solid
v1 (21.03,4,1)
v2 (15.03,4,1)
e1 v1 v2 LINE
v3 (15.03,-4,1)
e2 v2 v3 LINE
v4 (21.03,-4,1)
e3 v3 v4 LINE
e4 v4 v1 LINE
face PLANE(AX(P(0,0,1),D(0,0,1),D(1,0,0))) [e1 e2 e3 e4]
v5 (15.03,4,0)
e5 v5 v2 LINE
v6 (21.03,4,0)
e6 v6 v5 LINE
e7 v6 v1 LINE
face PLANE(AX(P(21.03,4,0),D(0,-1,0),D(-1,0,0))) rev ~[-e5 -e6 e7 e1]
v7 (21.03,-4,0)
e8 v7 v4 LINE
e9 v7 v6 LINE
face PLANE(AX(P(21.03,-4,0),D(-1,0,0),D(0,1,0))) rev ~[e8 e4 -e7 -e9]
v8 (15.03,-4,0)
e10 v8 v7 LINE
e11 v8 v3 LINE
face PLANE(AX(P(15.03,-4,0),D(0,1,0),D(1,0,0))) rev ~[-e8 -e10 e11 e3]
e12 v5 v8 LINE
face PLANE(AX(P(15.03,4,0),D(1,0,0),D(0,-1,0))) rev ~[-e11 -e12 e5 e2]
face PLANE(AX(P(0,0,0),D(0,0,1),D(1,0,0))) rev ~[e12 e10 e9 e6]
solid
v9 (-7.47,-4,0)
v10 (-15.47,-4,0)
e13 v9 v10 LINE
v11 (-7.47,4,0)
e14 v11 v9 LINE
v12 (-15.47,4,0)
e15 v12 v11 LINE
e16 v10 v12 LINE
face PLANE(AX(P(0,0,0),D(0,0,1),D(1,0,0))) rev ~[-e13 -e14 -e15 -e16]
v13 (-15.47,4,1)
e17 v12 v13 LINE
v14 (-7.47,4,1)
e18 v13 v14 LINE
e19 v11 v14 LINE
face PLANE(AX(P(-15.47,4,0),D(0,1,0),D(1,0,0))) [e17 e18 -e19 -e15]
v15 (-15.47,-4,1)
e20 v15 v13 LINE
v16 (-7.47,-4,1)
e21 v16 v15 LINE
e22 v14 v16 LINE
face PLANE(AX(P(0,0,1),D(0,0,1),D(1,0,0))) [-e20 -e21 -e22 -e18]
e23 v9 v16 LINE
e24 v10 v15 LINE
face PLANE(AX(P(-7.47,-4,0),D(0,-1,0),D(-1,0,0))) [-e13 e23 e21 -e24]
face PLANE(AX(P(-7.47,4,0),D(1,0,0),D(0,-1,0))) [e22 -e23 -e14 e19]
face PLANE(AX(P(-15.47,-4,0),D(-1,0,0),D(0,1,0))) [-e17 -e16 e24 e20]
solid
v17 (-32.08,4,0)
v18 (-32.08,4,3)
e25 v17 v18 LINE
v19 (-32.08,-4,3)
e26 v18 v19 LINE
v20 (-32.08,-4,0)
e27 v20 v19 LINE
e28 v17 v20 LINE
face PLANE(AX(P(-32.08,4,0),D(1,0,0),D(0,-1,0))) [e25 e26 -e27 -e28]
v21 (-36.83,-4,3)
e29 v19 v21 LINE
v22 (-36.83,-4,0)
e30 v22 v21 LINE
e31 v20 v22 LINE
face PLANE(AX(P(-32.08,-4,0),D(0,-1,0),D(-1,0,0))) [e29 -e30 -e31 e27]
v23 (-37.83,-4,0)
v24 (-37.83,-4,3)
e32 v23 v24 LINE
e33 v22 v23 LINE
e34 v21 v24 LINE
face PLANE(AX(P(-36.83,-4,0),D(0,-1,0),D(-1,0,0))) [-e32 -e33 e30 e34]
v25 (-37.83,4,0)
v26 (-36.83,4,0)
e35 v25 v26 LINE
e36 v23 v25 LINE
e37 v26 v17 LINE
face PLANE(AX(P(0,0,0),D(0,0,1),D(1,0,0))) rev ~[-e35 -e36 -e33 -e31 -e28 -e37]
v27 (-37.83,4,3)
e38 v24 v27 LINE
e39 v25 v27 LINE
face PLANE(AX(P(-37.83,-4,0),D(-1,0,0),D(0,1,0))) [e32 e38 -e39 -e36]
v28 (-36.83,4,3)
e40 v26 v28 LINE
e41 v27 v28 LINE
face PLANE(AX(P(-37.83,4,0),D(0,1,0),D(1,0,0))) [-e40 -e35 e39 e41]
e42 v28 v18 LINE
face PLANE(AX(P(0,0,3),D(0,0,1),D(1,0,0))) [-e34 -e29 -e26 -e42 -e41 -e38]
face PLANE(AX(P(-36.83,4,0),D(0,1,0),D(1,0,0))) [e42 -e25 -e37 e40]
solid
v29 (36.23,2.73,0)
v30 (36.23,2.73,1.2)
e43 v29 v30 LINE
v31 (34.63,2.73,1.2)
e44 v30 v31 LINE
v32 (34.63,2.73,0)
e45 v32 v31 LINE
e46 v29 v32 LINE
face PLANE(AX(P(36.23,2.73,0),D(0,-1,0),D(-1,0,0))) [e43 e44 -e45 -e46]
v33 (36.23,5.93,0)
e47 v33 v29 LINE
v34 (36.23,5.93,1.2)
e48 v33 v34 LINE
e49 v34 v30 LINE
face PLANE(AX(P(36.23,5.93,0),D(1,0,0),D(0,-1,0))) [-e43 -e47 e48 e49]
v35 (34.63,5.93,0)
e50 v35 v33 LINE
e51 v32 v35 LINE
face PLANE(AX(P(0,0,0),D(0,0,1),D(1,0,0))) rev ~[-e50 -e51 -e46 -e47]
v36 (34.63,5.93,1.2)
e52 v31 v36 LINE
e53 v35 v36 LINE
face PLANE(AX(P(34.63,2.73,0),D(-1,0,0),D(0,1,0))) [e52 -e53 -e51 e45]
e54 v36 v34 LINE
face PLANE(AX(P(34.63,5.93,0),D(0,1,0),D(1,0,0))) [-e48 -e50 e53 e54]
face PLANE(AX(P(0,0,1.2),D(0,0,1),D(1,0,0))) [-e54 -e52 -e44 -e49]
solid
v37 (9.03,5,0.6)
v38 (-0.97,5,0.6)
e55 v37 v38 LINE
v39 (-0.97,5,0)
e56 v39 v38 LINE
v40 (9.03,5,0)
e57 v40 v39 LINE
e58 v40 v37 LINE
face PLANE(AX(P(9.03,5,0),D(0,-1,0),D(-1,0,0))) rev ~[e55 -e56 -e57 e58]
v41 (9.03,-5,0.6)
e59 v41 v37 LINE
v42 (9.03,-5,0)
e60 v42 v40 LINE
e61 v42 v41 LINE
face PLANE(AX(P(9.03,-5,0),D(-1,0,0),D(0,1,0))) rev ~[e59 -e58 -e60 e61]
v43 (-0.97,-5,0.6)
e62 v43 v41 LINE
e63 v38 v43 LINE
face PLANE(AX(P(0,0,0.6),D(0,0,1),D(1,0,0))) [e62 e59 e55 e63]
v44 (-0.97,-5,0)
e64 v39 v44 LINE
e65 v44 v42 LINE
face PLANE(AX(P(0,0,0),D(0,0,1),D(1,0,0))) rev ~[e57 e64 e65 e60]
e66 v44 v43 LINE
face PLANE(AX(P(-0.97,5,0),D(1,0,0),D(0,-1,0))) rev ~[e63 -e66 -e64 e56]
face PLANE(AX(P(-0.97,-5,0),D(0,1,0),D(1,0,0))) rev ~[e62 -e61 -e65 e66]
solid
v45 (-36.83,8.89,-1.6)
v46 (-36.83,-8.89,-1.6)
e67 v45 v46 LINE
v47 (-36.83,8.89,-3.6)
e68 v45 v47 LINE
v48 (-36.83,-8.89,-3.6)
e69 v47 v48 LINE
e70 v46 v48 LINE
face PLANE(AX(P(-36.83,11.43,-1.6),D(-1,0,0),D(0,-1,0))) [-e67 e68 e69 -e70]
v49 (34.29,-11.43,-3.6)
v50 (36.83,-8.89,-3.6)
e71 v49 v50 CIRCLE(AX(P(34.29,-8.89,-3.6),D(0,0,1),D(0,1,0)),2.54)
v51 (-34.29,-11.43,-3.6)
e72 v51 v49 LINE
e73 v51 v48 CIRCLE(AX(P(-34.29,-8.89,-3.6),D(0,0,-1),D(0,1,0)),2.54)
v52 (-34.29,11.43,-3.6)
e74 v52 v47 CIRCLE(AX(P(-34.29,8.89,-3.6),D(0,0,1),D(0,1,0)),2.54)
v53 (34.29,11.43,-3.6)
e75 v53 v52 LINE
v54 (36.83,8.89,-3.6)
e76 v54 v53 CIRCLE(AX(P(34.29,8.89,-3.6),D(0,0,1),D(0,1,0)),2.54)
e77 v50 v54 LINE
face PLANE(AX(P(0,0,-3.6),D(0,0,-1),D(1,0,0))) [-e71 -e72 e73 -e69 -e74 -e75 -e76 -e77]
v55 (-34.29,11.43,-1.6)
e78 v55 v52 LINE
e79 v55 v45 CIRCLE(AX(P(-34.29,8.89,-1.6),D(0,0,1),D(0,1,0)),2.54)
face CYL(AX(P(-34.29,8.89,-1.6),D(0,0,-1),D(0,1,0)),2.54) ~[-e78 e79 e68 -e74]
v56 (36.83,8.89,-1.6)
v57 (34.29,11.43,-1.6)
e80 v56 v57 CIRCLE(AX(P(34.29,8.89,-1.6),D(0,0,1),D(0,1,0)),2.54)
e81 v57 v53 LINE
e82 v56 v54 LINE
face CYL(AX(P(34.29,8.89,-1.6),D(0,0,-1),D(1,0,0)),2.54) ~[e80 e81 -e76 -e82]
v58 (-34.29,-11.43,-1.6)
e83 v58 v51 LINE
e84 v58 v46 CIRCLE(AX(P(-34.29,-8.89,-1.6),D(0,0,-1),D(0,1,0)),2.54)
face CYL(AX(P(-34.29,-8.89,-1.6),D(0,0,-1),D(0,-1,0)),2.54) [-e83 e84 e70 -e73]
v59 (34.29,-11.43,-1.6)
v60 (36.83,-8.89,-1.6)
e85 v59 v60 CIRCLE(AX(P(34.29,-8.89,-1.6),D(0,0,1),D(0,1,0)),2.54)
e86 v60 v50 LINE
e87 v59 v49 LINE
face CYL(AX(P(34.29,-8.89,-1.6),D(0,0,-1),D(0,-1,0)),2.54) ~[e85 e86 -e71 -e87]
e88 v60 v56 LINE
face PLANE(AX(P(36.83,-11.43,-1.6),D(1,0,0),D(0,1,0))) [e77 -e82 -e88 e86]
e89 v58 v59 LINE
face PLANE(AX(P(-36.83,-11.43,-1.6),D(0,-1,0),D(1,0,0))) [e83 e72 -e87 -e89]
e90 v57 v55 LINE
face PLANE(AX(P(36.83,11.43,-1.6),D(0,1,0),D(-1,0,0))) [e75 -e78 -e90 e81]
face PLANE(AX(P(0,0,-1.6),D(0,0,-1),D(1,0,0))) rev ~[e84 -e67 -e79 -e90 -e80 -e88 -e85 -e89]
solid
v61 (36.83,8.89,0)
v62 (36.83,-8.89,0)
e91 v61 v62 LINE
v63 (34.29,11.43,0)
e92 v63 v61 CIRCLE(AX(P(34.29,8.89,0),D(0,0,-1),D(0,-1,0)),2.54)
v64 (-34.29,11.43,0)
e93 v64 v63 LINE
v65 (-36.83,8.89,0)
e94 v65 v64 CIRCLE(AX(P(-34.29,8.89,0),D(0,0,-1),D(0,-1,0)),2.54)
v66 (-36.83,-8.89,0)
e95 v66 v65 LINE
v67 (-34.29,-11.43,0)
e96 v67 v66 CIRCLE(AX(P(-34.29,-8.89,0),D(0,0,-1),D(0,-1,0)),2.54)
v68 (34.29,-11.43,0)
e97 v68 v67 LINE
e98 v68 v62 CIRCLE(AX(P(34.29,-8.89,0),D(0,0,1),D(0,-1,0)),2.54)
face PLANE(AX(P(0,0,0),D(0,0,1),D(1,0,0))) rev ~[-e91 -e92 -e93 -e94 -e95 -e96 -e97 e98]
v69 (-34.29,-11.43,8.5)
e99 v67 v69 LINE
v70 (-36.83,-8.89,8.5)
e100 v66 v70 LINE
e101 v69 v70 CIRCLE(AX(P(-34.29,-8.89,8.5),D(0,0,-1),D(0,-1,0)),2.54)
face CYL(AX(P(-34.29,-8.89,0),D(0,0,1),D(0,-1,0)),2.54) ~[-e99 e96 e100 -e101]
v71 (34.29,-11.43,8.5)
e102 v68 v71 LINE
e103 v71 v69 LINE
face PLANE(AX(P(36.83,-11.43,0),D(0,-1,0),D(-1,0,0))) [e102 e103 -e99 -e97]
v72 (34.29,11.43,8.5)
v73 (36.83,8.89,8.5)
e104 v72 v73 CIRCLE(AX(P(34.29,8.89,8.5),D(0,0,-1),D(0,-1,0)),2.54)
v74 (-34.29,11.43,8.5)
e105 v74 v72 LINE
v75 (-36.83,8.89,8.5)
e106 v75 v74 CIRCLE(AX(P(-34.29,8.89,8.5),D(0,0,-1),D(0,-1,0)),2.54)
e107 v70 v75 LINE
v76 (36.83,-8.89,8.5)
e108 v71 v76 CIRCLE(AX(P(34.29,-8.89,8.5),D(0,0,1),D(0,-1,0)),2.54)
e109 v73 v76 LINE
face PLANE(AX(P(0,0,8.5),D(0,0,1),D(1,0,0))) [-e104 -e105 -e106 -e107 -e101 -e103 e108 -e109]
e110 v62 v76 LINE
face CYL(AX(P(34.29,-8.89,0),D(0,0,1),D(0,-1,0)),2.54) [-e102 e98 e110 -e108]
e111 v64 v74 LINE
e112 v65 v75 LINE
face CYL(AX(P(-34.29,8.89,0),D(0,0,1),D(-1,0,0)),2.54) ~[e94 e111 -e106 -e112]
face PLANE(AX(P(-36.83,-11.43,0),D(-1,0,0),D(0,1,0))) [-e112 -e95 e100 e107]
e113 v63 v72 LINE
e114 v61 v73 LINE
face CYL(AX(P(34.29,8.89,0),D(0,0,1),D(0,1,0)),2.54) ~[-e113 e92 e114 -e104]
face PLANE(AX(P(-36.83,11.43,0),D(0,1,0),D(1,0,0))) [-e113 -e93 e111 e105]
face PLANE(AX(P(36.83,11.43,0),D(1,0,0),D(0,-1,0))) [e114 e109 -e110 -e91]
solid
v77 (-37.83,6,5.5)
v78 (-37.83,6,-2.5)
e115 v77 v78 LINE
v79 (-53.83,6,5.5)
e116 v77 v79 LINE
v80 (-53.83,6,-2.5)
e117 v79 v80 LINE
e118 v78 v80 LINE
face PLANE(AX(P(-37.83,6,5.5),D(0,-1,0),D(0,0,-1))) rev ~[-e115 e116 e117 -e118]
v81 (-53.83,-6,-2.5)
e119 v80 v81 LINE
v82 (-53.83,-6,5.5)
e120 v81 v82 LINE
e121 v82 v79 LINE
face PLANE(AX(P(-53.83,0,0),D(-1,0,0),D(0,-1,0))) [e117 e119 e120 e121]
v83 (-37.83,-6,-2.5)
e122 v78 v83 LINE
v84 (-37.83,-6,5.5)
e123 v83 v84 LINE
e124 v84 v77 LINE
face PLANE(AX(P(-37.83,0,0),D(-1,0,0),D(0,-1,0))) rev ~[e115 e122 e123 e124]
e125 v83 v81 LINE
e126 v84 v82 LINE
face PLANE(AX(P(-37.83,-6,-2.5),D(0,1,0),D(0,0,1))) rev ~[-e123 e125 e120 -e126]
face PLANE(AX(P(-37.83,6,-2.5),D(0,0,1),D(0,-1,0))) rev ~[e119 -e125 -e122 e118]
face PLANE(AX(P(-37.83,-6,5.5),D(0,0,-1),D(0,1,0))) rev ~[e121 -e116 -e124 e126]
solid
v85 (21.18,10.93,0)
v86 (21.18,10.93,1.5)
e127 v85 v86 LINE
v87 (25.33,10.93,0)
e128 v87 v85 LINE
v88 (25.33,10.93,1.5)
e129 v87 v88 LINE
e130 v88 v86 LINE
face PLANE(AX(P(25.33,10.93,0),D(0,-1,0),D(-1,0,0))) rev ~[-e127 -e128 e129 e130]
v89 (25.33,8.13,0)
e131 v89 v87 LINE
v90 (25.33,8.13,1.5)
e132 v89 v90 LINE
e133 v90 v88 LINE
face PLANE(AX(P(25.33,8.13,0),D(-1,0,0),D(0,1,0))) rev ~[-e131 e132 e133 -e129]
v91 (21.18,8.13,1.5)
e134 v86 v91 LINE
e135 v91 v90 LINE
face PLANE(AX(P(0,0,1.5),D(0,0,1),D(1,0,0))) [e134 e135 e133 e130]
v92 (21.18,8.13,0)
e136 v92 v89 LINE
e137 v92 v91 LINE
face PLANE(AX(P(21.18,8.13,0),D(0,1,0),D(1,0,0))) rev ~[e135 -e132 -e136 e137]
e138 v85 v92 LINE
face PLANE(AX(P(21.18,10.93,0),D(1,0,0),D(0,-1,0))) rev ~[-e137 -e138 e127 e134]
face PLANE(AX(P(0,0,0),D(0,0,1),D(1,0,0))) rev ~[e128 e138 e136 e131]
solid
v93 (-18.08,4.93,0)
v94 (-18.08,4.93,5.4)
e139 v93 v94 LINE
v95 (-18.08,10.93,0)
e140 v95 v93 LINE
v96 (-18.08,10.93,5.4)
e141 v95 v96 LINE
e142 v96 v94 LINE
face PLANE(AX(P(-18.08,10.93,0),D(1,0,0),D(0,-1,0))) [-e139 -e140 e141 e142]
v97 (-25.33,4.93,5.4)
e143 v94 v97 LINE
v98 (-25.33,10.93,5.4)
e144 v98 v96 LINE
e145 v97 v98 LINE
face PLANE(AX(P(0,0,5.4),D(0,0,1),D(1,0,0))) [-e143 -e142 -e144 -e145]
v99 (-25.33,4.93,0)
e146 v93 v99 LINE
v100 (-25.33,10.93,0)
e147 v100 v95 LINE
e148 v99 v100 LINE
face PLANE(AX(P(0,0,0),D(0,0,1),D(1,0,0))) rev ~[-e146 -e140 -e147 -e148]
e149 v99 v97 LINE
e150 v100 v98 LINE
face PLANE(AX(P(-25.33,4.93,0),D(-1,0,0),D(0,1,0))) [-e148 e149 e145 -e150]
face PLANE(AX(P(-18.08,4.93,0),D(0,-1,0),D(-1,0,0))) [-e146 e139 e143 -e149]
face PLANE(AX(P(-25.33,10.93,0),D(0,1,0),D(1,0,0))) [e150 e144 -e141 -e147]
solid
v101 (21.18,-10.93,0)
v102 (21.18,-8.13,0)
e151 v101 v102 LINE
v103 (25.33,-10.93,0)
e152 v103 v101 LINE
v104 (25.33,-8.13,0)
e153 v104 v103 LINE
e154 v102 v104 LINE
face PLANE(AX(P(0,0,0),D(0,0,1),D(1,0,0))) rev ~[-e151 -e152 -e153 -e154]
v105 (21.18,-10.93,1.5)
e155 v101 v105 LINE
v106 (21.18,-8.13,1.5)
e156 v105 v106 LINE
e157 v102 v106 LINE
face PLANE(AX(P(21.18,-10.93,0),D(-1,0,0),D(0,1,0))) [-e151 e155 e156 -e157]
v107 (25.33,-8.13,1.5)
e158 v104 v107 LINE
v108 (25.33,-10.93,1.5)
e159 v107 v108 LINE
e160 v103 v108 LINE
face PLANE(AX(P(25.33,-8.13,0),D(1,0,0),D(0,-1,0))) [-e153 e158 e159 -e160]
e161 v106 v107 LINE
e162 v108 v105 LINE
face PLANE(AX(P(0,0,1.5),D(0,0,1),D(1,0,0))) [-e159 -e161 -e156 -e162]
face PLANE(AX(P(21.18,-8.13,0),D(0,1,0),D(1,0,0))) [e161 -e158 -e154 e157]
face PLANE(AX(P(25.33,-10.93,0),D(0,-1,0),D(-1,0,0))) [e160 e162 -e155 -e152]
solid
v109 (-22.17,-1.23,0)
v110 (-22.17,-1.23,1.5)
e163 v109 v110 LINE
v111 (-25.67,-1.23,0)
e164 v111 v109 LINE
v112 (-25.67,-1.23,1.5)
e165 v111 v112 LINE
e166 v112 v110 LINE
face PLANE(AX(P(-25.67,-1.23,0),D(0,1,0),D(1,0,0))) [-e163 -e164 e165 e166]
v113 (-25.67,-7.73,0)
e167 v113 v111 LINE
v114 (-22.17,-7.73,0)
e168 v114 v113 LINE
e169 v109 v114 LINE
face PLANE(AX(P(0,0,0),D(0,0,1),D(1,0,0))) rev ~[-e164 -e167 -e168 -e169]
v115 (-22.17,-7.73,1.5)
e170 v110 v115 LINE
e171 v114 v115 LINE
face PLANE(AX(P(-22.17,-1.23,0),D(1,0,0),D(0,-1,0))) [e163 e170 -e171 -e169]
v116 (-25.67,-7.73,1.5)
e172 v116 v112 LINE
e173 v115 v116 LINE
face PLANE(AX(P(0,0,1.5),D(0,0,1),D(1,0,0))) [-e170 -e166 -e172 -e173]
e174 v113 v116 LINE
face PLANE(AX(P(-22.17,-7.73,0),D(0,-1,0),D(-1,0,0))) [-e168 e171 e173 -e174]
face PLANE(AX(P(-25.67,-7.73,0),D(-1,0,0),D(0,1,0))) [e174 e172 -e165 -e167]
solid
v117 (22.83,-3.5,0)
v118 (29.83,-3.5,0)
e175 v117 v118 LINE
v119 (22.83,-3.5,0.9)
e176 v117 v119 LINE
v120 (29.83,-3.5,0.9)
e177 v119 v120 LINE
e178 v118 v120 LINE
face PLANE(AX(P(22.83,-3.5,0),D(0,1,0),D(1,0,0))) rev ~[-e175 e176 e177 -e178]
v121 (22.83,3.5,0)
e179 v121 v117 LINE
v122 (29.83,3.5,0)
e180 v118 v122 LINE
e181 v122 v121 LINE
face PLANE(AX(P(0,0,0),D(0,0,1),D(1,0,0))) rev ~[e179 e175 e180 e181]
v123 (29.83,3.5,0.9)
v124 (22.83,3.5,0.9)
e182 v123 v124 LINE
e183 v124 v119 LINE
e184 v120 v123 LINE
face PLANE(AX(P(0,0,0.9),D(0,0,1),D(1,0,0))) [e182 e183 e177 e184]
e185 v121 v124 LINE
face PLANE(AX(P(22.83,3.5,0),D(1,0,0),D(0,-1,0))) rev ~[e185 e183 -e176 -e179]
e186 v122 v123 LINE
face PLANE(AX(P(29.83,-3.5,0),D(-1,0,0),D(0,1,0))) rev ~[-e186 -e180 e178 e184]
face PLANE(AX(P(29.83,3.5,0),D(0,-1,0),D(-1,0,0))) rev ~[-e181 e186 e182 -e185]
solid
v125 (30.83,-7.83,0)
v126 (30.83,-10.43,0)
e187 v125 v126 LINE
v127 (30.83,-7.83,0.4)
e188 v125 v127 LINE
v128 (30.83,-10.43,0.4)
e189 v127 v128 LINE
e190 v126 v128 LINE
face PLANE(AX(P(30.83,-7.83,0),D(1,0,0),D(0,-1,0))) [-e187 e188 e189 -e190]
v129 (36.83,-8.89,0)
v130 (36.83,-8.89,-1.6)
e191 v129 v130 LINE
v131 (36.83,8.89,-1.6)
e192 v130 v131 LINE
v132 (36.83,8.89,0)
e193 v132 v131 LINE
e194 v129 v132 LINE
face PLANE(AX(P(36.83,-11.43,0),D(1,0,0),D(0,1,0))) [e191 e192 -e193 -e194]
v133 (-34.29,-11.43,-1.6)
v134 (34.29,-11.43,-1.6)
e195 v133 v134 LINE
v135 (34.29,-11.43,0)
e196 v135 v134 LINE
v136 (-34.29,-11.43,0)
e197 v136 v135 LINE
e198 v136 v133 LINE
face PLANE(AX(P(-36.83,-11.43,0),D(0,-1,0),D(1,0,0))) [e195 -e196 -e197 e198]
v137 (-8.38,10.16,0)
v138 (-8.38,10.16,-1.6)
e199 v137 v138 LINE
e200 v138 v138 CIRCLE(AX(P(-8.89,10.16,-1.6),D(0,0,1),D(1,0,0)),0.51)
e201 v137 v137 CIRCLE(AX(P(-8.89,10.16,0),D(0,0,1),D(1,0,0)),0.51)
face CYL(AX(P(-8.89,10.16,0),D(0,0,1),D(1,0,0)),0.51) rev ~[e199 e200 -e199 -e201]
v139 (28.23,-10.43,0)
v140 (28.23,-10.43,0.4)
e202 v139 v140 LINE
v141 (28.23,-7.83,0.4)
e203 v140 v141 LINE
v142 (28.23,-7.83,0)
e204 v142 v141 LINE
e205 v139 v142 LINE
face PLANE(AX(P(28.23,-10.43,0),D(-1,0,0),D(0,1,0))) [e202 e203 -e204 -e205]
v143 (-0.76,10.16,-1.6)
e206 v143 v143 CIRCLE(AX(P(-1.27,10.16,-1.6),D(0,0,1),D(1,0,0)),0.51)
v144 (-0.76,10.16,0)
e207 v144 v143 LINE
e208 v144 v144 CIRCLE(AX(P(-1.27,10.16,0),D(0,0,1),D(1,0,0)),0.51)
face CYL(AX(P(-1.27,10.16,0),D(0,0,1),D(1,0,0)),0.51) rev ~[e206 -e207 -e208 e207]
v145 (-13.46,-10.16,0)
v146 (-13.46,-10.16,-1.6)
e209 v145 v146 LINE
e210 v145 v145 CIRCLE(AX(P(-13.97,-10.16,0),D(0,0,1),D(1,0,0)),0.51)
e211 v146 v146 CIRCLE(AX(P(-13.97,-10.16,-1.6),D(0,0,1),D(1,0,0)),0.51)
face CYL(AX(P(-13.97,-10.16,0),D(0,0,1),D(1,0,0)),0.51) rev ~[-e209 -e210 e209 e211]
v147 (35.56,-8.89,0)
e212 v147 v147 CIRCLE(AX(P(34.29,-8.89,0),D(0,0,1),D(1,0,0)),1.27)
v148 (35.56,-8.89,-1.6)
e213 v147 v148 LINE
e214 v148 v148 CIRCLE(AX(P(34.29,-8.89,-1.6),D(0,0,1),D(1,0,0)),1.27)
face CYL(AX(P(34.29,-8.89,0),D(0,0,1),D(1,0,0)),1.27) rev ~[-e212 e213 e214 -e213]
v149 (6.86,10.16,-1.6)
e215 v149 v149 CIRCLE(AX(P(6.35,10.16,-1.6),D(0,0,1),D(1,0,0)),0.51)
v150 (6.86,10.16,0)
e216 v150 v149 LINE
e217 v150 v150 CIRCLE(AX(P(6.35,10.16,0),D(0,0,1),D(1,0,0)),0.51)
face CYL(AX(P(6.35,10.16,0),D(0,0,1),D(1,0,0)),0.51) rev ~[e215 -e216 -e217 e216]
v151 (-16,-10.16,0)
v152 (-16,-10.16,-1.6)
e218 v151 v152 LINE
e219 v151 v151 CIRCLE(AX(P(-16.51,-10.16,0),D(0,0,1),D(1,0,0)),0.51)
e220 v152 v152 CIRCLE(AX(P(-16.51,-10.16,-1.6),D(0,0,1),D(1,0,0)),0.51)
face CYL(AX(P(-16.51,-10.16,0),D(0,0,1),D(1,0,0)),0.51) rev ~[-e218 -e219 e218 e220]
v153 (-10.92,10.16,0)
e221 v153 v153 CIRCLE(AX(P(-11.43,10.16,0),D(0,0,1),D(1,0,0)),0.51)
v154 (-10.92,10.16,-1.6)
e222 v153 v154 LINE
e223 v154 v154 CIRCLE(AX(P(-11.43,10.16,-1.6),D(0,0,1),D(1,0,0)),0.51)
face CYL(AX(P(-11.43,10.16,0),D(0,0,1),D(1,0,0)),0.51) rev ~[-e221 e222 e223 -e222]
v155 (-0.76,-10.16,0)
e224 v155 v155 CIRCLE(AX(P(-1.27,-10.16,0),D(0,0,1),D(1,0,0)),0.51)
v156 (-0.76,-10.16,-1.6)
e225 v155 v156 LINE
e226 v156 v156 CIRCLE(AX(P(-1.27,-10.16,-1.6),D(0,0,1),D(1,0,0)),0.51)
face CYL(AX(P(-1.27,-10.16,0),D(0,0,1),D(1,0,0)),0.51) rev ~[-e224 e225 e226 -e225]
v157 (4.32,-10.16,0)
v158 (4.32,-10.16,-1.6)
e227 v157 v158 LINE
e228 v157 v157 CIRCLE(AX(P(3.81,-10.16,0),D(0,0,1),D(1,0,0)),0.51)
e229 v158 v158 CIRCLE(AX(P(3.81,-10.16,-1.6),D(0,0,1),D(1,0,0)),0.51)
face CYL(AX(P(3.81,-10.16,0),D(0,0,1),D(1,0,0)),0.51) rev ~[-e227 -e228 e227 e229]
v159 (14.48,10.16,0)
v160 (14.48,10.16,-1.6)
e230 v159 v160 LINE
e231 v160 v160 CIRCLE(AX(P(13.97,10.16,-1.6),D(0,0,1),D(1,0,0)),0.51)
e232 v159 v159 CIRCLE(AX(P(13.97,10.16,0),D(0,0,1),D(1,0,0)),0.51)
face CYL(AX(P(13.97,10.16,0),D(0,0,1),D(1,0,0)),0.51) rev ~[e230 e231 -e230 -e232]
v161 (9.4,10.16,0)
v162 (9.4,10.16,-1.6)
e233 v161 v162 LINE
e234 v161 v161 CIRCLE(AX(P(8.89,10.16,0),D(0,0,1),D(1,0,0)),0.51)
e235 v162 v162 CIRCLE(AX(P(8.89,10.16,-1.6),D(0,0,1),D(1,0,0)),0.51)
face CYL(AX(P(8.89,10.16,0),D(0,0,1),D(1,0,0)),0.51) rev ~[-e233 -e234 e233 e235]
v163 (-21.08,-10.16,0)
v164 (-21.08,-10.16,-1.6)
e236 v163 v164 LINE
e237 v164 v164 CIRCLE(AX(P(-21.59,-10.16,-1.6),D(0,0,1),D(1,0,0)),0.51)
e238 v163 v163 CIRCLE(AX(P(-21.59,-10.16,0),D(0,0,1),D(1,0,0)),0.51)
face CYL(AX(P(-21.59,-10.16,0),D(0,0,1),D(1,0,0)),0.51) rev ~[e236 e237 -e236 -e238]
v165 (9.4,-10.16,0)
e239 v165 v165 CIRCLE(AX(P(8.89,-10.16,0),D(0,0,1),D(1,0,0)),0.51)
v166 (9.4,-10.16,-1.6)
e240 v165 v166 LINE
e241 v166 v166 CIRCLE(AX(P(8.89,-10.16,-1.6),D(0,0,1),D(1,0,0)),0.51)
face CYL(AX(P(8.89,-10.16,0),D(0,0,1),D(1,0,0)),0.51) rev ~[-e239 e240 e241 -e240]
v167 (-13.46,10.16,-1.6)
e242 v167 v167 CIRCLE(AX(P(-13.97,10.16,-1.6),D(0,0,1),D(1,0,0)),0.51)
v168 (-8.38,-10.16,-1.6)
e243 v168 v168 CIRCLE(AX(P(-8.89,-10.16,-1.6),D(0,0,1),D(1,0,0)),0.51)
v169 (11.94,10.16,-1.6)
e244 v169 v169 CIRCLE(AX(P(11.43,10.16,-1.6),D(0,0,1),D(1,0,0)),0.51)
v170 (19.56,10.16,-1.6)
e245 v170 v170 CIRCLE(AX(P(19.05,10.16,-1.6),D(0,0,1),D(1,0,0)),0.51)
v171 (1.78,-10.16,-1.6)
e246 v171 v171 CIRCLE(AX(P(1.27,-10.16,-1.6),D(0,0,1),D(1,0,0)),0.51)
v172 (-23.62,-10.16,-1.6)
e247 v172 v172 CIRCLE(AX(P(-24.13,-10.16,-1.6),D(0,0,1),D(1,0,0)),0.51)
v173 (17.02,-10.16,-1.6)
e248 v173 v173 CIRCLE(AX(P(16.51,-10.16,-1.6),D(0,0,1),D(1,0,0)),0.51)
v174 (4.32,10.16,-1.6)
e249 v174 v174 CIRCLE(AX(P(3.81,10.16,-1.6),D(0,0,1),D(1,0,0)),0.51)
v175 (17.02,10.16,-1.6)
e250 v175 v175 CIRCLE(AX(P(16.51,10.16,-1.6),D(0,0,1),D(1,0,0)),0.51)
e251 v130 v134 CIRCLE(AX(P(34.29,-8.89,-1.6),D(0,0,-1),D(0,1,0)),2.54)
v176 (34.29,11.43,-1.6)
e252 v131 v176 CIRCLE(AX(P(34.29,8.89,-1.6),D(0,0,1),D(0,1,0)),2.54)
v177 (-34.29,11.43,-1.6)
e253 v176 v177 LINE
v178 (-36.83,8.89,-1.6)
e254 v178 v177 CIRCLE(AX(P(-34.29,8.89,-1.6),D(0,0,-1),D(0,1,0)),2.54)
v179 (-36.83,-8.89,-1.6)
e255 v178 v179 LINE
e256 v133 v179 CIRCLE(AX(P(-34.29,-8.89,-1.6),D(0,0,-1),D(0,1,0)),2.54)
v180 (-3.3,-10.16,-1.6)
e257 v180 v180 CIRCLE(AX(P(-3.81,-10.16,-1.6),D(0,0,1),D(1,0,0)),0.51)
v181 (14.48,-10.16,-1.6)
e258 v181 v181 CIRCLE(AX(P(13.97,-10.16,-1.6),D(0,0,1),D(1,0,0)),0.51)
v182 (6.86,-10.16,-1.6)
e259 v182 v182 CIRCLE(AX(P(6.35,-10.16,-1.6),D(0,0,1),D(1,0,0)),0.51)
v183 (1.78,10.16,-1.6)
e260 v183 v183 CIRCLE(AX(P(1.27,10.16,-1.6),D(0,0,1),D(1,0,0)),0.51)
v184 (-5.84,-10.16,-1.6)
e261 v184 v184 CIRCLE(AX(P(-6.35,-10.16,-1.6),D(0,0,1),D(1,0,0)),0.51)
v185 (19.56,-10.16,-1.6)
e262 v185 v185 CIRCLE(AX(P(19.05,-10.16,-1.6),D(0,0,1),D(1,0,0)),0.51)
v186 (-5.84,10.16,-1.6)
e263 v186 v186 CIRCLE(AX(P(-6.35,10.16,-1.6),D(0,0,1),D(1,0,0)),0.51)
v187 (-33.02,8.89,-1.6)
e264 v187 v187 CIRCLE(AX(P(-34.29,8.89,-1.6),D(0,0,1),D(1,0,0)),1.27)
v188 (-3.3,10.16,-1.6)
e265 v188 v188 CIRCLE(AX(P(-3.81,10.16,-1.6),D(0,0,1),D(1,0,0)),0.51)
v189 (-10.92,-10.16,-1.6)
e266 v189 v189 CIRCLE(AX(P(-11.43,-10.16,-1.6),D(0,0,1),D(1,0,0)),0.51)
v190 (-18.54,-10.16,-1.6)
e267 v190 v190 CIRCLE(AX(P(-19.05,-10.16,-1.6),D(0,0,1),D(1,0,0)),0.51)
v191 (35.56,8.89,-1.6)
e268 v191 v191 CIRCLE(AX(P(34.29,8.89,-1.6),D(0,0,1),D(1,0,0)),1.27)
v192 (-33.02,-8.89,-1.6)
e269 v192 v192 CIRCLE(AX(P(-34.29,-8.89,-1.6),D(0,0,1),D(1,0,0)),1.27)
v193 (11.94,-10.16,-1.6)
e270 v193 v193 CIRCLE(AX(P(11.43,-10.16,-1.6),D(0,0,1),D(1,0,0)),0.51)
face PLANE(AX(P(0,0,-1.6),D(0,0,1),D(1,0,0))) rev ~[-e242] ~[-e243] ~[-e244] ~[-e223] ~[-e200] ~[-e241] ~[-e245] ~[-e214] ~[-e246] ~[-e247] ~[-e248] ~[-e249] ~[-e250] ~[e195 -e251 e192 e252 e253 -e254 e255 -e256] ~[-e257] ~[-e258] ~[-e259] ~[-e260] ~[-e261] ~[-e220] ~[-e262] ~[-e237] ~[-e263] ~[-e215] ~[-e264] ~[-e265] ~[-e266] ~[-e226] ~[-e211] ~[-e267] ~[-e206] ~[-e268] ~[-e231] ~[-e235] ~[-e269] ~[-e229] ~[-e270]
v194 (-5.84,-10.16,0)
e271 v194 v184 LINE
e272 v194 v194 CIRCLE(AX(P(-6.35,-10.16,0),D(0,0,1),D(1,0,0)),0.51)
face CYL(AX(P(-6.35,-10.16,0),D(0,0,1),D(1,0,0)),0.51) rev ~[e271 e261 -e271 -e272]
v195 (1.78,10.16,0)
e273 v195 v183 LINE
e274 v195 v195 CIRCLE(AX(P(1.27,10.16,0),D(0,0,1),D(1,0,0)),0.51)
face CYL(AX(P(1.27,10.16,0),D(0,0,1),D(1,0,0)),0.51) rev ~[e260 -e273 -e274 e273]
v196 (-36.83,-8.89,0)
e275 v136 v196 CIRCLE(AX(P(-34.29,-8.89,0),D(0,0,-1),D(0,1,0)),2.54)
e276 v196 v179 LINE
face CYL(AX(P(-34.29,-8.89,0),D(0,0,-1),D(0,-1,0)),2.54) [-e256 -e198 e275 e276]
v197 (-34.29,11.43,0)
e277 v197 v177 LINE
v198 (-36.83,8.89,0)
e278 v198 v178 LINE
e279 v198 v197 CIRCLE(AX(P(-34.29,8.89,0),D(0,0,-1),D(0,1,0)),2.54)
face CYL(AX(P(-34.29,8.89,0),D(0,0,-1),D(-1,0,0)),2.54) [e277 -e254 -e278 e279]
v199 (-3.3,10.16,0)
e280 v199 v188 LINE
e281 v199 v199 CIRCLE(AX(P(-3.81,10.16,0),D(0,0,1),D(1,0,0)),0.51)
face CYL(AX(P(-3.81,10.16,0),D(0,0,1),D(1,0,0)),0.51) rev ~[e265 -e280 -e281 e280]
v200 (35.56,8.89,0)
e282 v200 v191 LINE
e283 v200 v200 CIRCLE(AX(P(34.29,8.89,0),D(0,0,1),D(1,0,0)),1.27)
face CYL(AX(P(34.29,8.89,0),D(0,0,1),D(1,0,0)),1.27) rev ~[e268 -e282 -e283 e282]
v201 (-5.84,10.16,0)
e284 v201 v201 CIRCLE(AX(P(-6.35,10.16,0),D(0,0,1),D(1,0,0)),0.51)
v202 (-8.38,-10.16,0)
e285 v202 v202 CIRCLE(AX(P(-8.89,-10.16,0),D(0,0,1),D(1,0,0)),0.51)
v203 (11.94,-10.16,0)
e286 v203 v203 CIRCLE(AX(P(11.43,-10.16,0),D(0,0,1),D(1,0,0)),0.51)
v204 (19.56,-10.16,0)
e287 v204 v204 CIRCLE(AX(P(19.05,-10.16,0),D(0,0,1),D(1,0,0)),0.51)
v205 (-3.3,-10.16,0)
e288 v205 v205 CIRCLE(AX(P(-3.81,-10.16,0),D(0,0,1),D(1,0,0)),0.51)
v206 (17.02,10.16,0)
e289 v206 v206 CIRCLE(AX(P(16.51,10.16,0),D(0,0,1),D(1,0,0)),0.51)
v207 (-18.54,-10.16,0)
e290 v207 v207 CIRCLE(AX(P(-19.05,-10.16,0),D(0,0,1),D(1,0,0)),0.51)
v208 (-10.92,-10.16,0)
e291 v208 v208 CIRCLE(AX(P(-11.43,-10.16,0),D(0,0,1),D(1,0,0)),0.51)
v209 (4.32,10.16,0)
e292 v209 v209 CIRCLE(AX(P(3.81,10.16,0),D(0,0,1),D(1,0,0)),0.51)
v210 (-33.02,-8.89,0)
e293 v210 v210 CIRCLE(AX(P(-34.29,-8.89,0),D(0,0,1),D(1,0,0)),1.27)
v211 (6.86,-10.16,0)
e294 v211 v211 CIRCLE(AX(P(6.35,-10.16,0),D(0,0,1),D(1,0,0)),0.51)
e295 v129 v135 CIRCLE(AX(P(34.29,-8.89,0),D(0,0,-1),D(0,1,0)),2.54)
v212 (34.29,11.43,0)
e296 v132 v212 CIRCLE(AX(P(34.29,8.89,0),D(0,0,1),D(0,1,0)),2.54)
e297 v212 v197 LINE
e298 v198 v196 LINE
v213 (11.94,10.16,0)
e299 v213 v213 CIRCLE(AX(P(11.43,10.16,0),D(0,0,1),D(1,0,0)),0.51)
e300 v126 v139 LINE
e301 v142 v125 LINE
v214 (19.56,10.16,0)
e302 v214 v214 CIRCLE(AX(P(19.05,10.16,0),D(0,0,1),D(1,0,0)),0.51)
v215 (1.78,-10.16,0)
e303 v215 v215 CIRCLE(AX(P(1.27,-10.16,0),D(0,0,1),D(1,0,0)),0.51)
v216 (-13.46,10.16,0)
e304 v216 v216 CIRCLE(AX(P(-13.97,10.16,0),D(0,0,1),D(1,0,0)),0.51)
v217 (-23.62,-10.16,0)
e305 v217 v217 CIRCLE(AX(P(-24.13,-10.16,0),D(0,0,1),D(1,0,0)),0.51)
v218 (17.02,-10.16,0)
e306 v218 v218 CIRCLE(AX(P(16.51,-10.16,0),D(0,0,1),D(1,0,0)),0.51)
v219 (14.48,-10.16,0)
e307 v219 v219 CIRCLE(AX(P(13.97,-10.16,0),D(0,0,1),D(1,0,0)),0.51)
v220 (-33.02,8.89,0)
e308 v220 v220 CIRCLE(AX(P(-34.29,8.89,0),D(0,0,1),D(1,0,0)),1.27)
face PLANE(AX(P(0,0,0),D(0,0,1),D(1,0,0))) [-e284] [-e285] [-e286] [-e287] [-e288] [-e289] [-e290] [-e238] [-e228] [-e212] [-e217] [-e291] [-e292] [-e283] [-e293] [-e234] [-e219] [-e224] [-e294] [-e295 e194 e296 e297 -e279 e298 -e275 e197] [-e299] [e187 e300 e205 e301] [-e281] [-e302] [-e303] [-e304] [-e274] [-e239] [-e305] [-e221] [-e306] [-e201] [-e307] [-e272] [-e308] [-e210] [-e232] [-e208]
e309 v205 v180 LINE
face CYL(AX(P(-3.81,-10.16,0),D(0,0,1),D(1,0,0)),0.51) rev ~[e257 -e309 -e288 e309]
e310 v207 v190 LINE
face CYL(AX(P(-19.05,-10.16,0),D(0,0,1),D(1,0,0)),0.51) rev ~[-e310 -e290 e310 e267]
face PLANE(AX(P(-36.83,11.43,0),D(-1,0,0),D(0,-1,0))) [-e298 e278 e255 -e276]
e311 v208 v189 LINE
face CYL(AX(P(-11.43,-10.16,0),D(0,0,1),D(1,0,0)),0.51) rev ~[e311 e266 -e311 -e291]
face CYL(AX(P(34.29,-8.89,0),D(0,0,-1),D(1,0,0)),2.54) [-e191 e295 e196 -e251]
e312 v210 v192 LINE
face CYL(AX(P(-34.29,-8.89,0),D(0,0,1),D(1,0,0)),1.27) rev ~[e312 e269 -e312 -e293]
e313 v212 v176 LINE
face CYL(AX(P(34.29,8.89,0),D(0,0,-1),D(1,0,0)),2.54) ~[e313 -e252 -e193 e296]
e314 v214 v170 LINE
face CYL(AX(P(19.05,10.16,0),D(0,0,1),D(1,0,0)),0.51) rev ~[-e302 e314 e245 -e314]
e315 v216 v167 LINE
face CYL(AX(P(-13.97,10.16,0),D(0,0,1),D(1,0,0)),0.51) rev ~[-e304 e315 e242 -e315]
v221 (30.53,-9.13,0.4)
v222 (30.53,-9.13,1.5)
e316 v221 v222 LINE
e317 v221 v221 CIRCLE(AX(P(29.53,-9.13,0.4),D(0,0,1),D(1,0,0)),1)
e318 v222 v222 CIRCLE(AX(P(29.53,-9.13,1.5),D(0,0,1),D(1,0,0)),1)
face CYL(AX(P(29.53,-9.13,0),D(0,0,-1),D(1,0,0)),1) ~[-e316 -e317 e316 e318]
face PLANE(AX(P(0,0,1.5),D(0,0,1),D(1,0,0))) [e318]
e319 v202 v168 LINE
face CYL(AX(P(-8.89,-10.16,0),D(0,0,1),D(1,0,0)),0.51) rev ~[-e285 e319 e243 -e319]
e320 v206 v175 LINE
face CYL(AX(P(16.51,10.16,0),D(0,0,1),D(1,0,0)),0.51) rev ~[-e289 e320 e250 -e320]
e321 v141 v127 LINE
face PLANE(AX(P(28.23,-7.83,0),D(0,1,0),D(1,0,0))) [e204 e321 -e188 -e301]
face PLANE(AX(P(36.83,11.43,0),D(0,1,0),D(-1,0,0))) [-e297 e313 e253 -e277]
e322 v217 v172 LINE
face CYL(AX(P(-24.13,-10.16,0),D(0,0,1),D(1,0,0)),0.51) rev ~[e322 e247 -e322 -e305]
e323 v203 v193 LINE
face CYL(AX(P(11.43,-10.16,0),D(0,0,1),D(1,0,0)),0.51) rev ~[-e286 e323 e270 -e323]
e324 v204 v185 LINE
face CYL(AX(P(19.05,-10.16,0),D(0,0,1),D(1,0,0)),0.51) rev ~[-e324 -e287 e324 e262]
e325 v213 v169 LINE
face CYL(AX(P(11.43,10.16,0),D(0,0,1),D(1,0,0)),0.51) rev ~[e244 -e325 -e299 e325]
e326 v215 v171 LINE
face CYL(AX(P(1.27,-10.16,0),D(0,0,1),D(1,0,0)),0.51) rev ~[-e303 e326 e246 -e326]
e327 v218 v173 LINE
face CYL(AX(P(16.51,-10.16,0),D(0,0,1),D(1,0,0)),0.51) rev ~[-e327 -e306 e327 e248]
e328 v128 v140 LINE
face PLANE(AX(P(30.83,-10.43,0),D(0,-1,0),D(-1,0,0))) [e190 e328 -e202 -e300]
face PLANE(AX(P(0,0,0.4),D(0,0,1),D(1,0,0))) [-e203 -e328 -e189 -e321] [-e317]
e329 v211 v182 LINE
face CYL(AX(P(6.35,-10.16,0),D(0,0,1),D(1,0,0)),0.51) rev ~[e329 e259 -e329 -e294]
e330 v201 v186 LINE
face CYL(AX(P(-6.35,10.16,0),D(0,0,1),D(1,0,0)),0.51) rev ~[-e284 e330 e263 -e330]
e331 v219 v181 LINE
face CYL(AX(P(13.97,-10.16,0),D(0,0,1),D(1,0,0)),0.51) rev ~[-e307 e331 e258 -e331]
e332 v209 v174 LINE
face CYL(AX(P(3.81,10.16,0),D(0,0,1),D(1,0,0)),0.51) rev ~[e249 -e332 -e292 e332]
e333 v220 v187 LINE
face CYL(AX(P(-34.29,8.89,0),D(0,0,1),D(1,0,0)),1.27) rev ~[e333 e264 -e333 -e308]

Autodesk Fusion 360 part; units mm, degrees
sketch "PCB" plane through (0, 0, 0) normal (0, 0, 1) x (1, 0, 0) in component "Meadow_F7_Micro"
  line L0 (36.83, 11.43) -> (-36.83, 11.43)
  line L1 (-36.83, 11.43) -> (-36.83, -11.43)
  line L2 (-36.83, -11.43) -> (36.83, -11.43)
  line L3 (36.83, -11.43) -> (36.83, 11.43)
  line L4 (36.83, 11.43) -> (-36.83, -11.43) construction
  line L5 (-36.83, 11.43) -> (36.83, -11.43) construction
  circle A0 centre (-34.29, 8.89) radius 1.27
  circle A1 centre (-34.29, -8.89) radius 1.27
  line L6 (-36.83, 0) -> (36.83, 0) construction
  circle A2 centre (34.29, 8.89) radius 1.27
  circle A3 centre (34.29, -8.89) radius 1.27
  line L7 (0, 11.43) -> (0, -11.43) construction
  circle A4 centre (-13.97, 10.16) radius 0.51
  circle A5 centre (-11.43, 10.16) radius 0.51
  circle A6 centre (-8.89, 10.16) radius 0.51
  circle A7 centre (-6.35, 10.16) radius 0.51
  circle A8 centre (-3.81, 10.16) radius 0.51
  circle A9 centre (-1.27, 10.16) radius 0.51
  circle A10 centre (1.27, 10.16) radius 0.51
  circle A11 centre (3.81, 10.16) radius 0.51
  circle A12 centre (6.35, 10.16) radius 0.51
  circle A13 centre (8.89, 10.16) radius 0.51
  circle A14 centre (11.43, 10.16) radius 0.51
  circle A15 centre (13.97, 10.16) radius 0.51
  circle A16 centre (16.51, 10.16) radius 0.51
  circle A17 centre (19.05, 10.16) radius 0.51
  circle A18 centre (-24.13, -10.16) radius 0.51
  circle A19 centre (-21.59, -10.16) radius 0.51
  circle A20 centre (-19.05, -10.16) radius 0.51
  circle A21 centre (-16.51, -10.16) radius 0.51
  circle A22 centre (-13.97, -10.16) radius 0.51
  circle A23 centre (-11.43, -10.16) radius 0.51
  circle A24 centre (-8.89, -10.16) radius 0.51
  circle A25 centre (-6.35, -10.16) radius 0.51
  circle A26 centre (-3.81, -10.16) radius 0.51
  circle A27 centre (-1.27, -10.16) radius 0.51
  circle A28 centre (1.27, -10.16) radius 0.51
  circle A29 centre (3.81, -10.16) radius 0.51
  circle A30 centre (6.35, -10.16) radius 0.51
  circle A31 centre (8.89, -10.16) radius 0.51
  circle A32 centre (11.43, -10.16) radius 0.51
  circle A33 centre (13.97, -10.16) radius 0.51
  circle A34 centre (16.51, -10.16) radius 0.51
  circle A35 centre (19.05, -10.16) radius 0.51
  dimension "d1" = 73.66
  dimension "d2" = 22.86
  dimension "d3" = 2.54
  dimension "d4" = 2.54
  dimension "d5" = 2.54
  dimension "d7" = 2.54
  dimension "d8" = 1.02
  dimension "d9" = 20.32
  dimension "d10" = 1.27
  dimension "d13" = 2.54
  dimension "d14" = 0
  dimension "d15" = 1.02
  dimension "d16" = 10.16
  dimension "d17" = 1.27
  dimension "d20" = 2.54
  dimension "d21" = 0
extrude "Extrude1" add sketch "PCB" against normal blind 1.6 makes body 1 in component "Meadow_F7_Micro"
fillet "Fillet1" radius 2.54 4 edges at (-36.83, 11.43, -0.8) (-36.83, -11.43, -0.8) (36.83, -11.43, -0.8) (36.83, 11.43, -0.8) on bodies 1 in component "Meadow_F7_Micro"
sketch "Sketch4" plane through (0, 0, 0) normal (0, 0, 1) x (1, 0, 0) in component "Meadow_F7_Micro"
  line L0 (-36.83, 0) -> (36.83, 0) construction
  line L1 (-25.33, 10.93) -> (-18.08, 10.93)
  line L2 (-18.08, 10.93) -> (-18.08, 4.93)
  line L3 (-18.08, 4.93) -> (-25.33, 4.93)
  line L4 (-25.33, 4.93) -> (-25.33, 10.93)
  line L5 (-36.83, 11.43) -> (-36.83, -11.43)
  line L6 (36.83, 11.43) -> (-36.83, 11.43)
  line L7 (9.03, 5) -> (-0.97, 5)
  line L8 (-0.97, 5) -> (-0.97, -5)
  line L9 (-0.97, -5) -> (9.03, -5)
  line L10 (9.03, -5) -> (9.03, 5)
  line L11 (9.03, 5) -> (-0.97, -5) construction
  line L12 (-0.97, 5) -> (9.03, -5) construction
  line L13 (36.83, -11.43) -> (36.83, 11.43)
  line L14 (21.03, 4) -> (15.03, 4)
  line L15 (15.03, 4) -> (15.03, -4)
  line L16 (15.03, -4) -> (21.03, -4)
  line L17 (21.03, -4) -> (21.03, 4)
  line L18 (21.03, 4) -> (15.03, -4) construction
  line L19 (15.03, 4) -> (21.03, -4) construction
  line L20 (29.83, 3.5) -> (22.83, 3.5)
  line L21 (22.83, 3.5) -> (22.83, -3.5)
  line L22 (22.83, -3.5) -> (29.83, -3.5)
  line L23 (29.83, -3.5) -> (29.83, 3.5)
  line L24 (29.83, 3.5) -> (22.83, -3.5) construction
  line L25 (22.83, 3.5) -> (29.83, -3.5) construction
  line L26 (-7.47, -4) -> (-15.47, -4)
  line L27 (-15.47, -4) -> (-15.47, 4)
  line L28 (-15.47, 4) -> (-7.47, 4)
  line L29 (-7.47, 4) -> (-7.47, -4)
  line L30 (-7.47, -4) -> (-15.47, 4) construction
  line L31 (-15.47, -4) -> (-7.47, 4) construction
  line L32 (-22.17, -7.73) -> (-25.67, -7.73)
  line L33 (-25.67, -7.73) -> (-25.67, -1.23)
  line L34 (-25.67, -1.23) -> (-22.17, -1.23)
  line L35 (-22.17, -1.23) -> (-22.17, -7.73)
  line L36 (-22.17, -7.73) -> (-25.67, -1.23) construction
  line L37 (-25.67, -7.73) -> (-22.17, -1.23) construction
  line L38 (-36.83, -11.43) -> (36.83, -11.43)
  line L39 (-32.08, -4) -> (-37.83, -4)
  line L40 (-37.83, -4) -> (-37.83, 4)
  line L41 (-37.83, 4) -> (-32.08, 4)
  line L42 (-32.08, 4) -> (-32.08, -4)
  line L43 (-32.08, -4) -> (-37.83, 4) construction
  line L44 (-37.83, -4) -> (-32.08, 4) construction
  line L45 (34.63, 5.93) -> (36.23, 5.93)
  line L46 (36.23, 5.93) -> (36.23, 2.73)
  line L47 (36.23, 2.73) -> (34.63, 2.73)
  line L48 (34.63, 2.73) -> (34.63, 5.93)
  line L49 (28.23, -7.83) -> (30.83, -7.83)
  line L50 (30.83, -7.83) -> (30.83, -10.43)
  line L51 (30.83, -10.43) -> (28.23, -10.43)
  line L52 (28.23, -10.43) -> (28.23, -7.83)
  line L53 (21.18, 8.13) -> (25.33, 8.13)
  line L54 (25.33, 8.13) -> (25.33, 10.93)
  line L55 (25.33, 10.93) -> (21.18, 10.93)
  line L56 (21.18, 10.93) -> (21.18, 8.13)
  line L57 (21.18, -8.13) -> (25.33, -8.13)
  line L58 (25.33, -8.13) -> (25.33, -10.93)
  line L59 (25.33, -10.93) -> (21.18, -10.93)
  line L60 (21.18, -10.93) -> (21.18, -8.13)
  circle A0 centre (29.53, -9.13) radius 1
  point P0 (4.03, 0)
  point P1 (18.03, 0)
  point P2 (26.33, 0)
  point P3 (-11.47, 0)
  point P4 (-23.92, -4.48)
  point P5 (-34.955, 0)
  dimension "d25" = 7.25
  dimension "d26" = 6
  dimension "d27" = 11.5
  dimension "d28" = 0.5
  dimension "d29" = 10
  dimension "d30" = 10
  dimension "d31" = 27.8
  dimension "d32" = 6
  dimension "d33" = 8
  dimension "d34" = 6
  dimension "d35" = 7
  dimension "d36" = 7
  dimension "d37" = 1.8
  dimension "d38" = 8
  dimension "d39" = 8
  dimension "d40" = 6.5
  dimension "d41" = 3.5
  dimension "d42" = 6.5
  dimension "d43" = 3.7
  dimension "d44" = 6.7
  dimension "d45" = 5.75
  dimension "d46" = 8
  dimension "d47" = 4.75
  dimension "d48" = 1.6
  dimension "d49" = 3.2
  dimension "d50" = 5.5
  dimension "d51" = 0.6
  dimension "d52" = 2.6
  dimension "d53" = 2.6
  dimension "d54" = 1
  dimension "d55" = 6
  dimension "d56" = 4.15
  dimension "d57" = 2.8
  dimension "d58" = 11.5
  dimension "d59" = 0.5
  dimension "d60" = 4.15
  dimension "d61" = 2.8
  dimension "d62" = 11.5
  dimension "d63" = 0.5
  dimension "d64" = 2
extrude "Extrude2" add sketch "Sketch4" along normal blind 1 separate body contours L26 L27 L28 L29 makes body 2 in component "Meadow_F7_Micro"
extrude "Extrude3" add sketch "Sketch4" along normal blind 0.6 separate body contours L7 L8 L9 L10 makes body 3 in component "Meadow_F7_Micro"
extrude "Extrude4" add sketch "Sketch4" along normal blind 1 separate body contours L14 L15 L16 L17 makes body 4 in component "Meadow_F7_Micro"
extrude "Extrude5" add sketch "Sketch4" along normal blind 0.9 separate body contours L20 L21 L22 L23 makes body 5 in component "Meadow_F7_Micro"
extrude "Extrude6" add sketch "Sketch4" along normal blind 1.2 separate body contours L45 L46 L47 L48 makes body 6 in component "Meadow_F7_Micro"
extrude "Extrude7" add sketch "Sketch4" along normal blind 5.4 separate body contours L1 L2 L3 L4 makes body 7 in component "Meadow_F7_Micro"
extrude "Extrude8" add sketch "Sketch4" along normal blind 3 separate body contours L5 L39 L41 L42 | L5 L39 L40 L41 makes body 8 in component "Meadow_F7_Micro"
extrude "Extrude9" add sketch "Sketch4" along normal blind 1.5 separate body contours L32 L33 L34 L35 makes body 9 in component "Meadow_F7_Micro"
extrude "Extrude10" add sketch "Sketch4" along normal blind 0.4 separate body contours L49 L50 L51 L52 makes body 10 in component "Meadow_F7_Micro"
extrude "Extrude11" add sketch "Sketch4" along normal blind 1.5 contours A0 bodies 1 7 9 8 10 in component "Meadow_F7_Micro"
extrude "Extrude12" add sketch "Sketch4" along normal blind 1.5 separate body contours L53 L54 L55 L56 makes body 11 in component "Meadow_F7_Micro"
extrude "Extrude13" add sketch "Sketch4" along normal blind 1.5 separate body contours L57 L58 L59 L60 makes body 12 in component "Meadow_F7_Micro"
sketch "Sketch1" plane through (0, 0, -1.6) normal (0, 0, -1) x (1, 0, 0)
  arc A0 (34.29, -11.43) -> (36.83, -8.89) centre (34.29, -8.89) ccw
  line L0 (36.83, -8.89) -> (36.83, 8.89)
  arc A1 (36.83, 8.89) -> (34.29, 11.43) centre (34.29, 8.89) ccw
  line L1 (34.29, 11.43) -> (-34.29, 11.43)
  arc A2 (-34.29, 11.43) -> (-36.83, 8.89) centre (-34.29, 8.89) ccw
  line L2 (-36.83, 8.89) -> (-36.83, -8.89)
  arc A3 (-36.83, -8.89) -> (-34.29, -11.43) centre (-34.29, -8.89) ccw
  line L3 (-34.29, -11.43) -> (34.29, -11.43)
  circle A4 centre (-3.81, 10.16) radius 0.51
  circle A5 centre (11.43, -10.16) radius 0.51
  circle A6 centre (-19.05, 10.16) radius 0.51
  circle A7 centre (19.05, -10.16) radius 0.51
  circle A8 centre (34.29, 8.89) radius 1.27
  circle A9 centre (11.43, 10.16) radius 0.51
  circle A10 centre (-24.13, 10.16) radius 0.51
  circle A11 centre (-8.89, 10.16) radius 0.51
  circle A12 centre (-21.59, 10.16) radius 0.51
  circle A13 centre (6.35, 10.16) radius 0.51
  circle A14 centre (-34.29, -8.89) radius 1.27
  circle A15 centre (-34.29, 8.89) radius 1.27
  circle A16 centre (16.51, -10.16) radius 0.51
  circle A17 centre (-11.43, -10.16) radius 0.51
  circle A18 centre (-11.43, 10.16) radius 0.51
  circle A19 centre (-13.97, -10.16) radius 0.51
  circle A20 centre (13.97, -10.16) radius 0.51
  circle A21 centre (-8.89, -10.16) radius 0.51
  circle A22 centre (16.51, 10.16) radius 0.51
  circle A23 centre (1.27, 10.16) radius 0.51
  circle A24 centre (-6.35, 10.16) radius 0.51
  circle A25 centre (13.97, 10.16) radius 0.51
  circle A26 centre (6.35, -10.16) radius 0.51
  circle A27 centre (8.89, 10.16) radius 0.51
  circle A28 centre (-13.97, 10.16) radius 0.51
  circle A29 centre (19.05, 10.16) radius 0.51
  circle A30 centre (-16.51, 10.16) radius 0.51
  circle A31 centre (-1.27, 10.16) radius 0.51
  circle A32 centre (8.89, -10.16) radius 0.51
  circle A33 centre (3.81, 10.16) radius 0.51
  circle A34 centre (34.29, -8.89) radius 1.27
  circle A35 centre (1.27, -10.16) radius 0.51
  circle A36 centre (-6.35, -10.16) radius 0.51
  circle A37 centre (-3.81, -10.16) radius 0.51
  circle A38 centre (3.81, -10.16) radius 0.51
  circle A39 centre (-1.27, -10.16) radius 0.51
  point P0 (34.29, 8.89)
sketch "Sketch1 (2)" plane through (0, 0, -1.6) normal (0, 0, -1) x (1, 0, 0) in component "Clearance"
  line L0 (-36.83, 11.43) -> (36.83, 11.43)
  line L1 (36.83, 11.43) -> (36.83, -11.43)
  line L2 (36.83, -11.43) -> (-36.83, -11.43)
  line L3 (-36.83, -11.43) -> (-36.83, 11.43)
  point P0 (-36.83, 11.43)
  point P1 (36.83, -11.43)
extrude "Extrude1'" add sketch "Sketch1 (2)" along normal blind 2 separate body makes body 13 in component "Clearance"
fillet "Fillet1'" radius 2.54 4 edges at (-36.83, -11.43, -2.6) (36.83, -11.43, -2.6) (36.83, 11.43, -2.6) (-36.83, 11.43, -2.6) on bodies 13 in component "Clearance"
sketch "Sketch2" plane through (-37.83, 0, 0) normal (-1, 0, 0) x (0, -1, 0) in component "Clearance"
  line L0 (-4, 0) -> (4, 0)
  line L1 (4, 0) -> (4, 3)
  line L2 (4, 3) -> (-4, 3)
  line L3 (-4, 3) -> (-4, 0)
  line L4 (0, 3) -> (0, 0) construction
  line L5 (-4, 1.5) -> (4, 1.5) construction
  line L6 (6, 5.5) -> (-6, 5.5)
  line L7 (-6, 5.5) -> (-6, -2.5)
  line L8 (-6, -2.5) -> (6, -2.5)
  line L9 (6, -2.5) -> (6, 5.5)
  line L10 (6, 5.5) -> (-6, -2.5) construction
  line L11 (-6, 5.5) -> (6, -2.5) construction
  point P0 (0, 1.5)
  dimension "d96" = 12
  dimension "d97" = 8
extrude "Extrude2'" add sketch "Sketch2" along normal blind 16 separate body contours L0 L1 L2 L3 | L6 L7 L8 L9 makes body 14 in component "Clearance"
sketch "Sketch3" plane through (0, 0, -3.6) normal (0, 0, -1) x (1, 0, 0) in component "Clearance"
  arc A0 (-36.83, -8.89) -> (-34.29, -11.43) centre (-34.29, -8.89) ccw
  line L0 (-34.29, -11.43) -> (34.29, -11.43)
  arc A1 (34.29, -11.43) -> (36.83, -8.89) centre (34.29, -8.89) ccw
  line L1 (36.83, -8.89) -> (36.83, 8.89)
  arc A2 (36.83, 8.89) -> (34.29, 11.43) centre (34.29, 8.89) ccw
  line L2 (34.29, 11.43) -> (-34.29, 11.43)
  arc A3 (-34.29, 11.43) -> (-36.83, 8.89) centre (-34.29, 8.89) ccw
  line L3 (-36.83, 8.89) -> (-36.83, -8.89)
  point P0 (-34.29, 8.89)
  point P1 (-34.29, -8.89)
  point P2 (34.29, 8.89)
  point P3 (34.29, -8.89)
sketch "Sketch4 (2)" plane through (0, 0, 0) normal (0, 0, 1) x (1, 0, 0) in component "Clearance"
  line L0 (36.83, -11.43) -> (-36.83, -11.43)
  line L1 (-36.83, -11.43) -> (-36.83, 11.43)
  line L2 (-36.83, 11.43) -> (36.83, 11.43)
  line L3 (36.83, 11.43) -> (36.83, -11.43)
  point P0 (-36.83, 11.43)
  point P1 (36.83, -11.43)
extrude "Extrude3'" add sketch "Sketch4 (2)" along normal blind 8.5 separate body makes body 15 in component "Clearance"
fillet "Fillet2" radius 2.54 4 edges at (-36.83, -11.43, 4.25) (36.83, -11.43, 4.25) (-36.83, 11.43, 4.25) (36.83, 11.43, 4.25) on bodies 15 in component "Clearance"
component "Meadow_F7_Micro" placed x (1, 0, 0) y (0, 1, 0) z (0, 0, 1) at (0, 0, 0)
component "Clearance" placed x (1, 0, 0) y (0, 1, 0) z (0, 0, 1) at (0, 0, 0)
equation "d7 = d3"
equation "d17 = d10"
equation "d62 = d58"
equation "d63 = d59"
